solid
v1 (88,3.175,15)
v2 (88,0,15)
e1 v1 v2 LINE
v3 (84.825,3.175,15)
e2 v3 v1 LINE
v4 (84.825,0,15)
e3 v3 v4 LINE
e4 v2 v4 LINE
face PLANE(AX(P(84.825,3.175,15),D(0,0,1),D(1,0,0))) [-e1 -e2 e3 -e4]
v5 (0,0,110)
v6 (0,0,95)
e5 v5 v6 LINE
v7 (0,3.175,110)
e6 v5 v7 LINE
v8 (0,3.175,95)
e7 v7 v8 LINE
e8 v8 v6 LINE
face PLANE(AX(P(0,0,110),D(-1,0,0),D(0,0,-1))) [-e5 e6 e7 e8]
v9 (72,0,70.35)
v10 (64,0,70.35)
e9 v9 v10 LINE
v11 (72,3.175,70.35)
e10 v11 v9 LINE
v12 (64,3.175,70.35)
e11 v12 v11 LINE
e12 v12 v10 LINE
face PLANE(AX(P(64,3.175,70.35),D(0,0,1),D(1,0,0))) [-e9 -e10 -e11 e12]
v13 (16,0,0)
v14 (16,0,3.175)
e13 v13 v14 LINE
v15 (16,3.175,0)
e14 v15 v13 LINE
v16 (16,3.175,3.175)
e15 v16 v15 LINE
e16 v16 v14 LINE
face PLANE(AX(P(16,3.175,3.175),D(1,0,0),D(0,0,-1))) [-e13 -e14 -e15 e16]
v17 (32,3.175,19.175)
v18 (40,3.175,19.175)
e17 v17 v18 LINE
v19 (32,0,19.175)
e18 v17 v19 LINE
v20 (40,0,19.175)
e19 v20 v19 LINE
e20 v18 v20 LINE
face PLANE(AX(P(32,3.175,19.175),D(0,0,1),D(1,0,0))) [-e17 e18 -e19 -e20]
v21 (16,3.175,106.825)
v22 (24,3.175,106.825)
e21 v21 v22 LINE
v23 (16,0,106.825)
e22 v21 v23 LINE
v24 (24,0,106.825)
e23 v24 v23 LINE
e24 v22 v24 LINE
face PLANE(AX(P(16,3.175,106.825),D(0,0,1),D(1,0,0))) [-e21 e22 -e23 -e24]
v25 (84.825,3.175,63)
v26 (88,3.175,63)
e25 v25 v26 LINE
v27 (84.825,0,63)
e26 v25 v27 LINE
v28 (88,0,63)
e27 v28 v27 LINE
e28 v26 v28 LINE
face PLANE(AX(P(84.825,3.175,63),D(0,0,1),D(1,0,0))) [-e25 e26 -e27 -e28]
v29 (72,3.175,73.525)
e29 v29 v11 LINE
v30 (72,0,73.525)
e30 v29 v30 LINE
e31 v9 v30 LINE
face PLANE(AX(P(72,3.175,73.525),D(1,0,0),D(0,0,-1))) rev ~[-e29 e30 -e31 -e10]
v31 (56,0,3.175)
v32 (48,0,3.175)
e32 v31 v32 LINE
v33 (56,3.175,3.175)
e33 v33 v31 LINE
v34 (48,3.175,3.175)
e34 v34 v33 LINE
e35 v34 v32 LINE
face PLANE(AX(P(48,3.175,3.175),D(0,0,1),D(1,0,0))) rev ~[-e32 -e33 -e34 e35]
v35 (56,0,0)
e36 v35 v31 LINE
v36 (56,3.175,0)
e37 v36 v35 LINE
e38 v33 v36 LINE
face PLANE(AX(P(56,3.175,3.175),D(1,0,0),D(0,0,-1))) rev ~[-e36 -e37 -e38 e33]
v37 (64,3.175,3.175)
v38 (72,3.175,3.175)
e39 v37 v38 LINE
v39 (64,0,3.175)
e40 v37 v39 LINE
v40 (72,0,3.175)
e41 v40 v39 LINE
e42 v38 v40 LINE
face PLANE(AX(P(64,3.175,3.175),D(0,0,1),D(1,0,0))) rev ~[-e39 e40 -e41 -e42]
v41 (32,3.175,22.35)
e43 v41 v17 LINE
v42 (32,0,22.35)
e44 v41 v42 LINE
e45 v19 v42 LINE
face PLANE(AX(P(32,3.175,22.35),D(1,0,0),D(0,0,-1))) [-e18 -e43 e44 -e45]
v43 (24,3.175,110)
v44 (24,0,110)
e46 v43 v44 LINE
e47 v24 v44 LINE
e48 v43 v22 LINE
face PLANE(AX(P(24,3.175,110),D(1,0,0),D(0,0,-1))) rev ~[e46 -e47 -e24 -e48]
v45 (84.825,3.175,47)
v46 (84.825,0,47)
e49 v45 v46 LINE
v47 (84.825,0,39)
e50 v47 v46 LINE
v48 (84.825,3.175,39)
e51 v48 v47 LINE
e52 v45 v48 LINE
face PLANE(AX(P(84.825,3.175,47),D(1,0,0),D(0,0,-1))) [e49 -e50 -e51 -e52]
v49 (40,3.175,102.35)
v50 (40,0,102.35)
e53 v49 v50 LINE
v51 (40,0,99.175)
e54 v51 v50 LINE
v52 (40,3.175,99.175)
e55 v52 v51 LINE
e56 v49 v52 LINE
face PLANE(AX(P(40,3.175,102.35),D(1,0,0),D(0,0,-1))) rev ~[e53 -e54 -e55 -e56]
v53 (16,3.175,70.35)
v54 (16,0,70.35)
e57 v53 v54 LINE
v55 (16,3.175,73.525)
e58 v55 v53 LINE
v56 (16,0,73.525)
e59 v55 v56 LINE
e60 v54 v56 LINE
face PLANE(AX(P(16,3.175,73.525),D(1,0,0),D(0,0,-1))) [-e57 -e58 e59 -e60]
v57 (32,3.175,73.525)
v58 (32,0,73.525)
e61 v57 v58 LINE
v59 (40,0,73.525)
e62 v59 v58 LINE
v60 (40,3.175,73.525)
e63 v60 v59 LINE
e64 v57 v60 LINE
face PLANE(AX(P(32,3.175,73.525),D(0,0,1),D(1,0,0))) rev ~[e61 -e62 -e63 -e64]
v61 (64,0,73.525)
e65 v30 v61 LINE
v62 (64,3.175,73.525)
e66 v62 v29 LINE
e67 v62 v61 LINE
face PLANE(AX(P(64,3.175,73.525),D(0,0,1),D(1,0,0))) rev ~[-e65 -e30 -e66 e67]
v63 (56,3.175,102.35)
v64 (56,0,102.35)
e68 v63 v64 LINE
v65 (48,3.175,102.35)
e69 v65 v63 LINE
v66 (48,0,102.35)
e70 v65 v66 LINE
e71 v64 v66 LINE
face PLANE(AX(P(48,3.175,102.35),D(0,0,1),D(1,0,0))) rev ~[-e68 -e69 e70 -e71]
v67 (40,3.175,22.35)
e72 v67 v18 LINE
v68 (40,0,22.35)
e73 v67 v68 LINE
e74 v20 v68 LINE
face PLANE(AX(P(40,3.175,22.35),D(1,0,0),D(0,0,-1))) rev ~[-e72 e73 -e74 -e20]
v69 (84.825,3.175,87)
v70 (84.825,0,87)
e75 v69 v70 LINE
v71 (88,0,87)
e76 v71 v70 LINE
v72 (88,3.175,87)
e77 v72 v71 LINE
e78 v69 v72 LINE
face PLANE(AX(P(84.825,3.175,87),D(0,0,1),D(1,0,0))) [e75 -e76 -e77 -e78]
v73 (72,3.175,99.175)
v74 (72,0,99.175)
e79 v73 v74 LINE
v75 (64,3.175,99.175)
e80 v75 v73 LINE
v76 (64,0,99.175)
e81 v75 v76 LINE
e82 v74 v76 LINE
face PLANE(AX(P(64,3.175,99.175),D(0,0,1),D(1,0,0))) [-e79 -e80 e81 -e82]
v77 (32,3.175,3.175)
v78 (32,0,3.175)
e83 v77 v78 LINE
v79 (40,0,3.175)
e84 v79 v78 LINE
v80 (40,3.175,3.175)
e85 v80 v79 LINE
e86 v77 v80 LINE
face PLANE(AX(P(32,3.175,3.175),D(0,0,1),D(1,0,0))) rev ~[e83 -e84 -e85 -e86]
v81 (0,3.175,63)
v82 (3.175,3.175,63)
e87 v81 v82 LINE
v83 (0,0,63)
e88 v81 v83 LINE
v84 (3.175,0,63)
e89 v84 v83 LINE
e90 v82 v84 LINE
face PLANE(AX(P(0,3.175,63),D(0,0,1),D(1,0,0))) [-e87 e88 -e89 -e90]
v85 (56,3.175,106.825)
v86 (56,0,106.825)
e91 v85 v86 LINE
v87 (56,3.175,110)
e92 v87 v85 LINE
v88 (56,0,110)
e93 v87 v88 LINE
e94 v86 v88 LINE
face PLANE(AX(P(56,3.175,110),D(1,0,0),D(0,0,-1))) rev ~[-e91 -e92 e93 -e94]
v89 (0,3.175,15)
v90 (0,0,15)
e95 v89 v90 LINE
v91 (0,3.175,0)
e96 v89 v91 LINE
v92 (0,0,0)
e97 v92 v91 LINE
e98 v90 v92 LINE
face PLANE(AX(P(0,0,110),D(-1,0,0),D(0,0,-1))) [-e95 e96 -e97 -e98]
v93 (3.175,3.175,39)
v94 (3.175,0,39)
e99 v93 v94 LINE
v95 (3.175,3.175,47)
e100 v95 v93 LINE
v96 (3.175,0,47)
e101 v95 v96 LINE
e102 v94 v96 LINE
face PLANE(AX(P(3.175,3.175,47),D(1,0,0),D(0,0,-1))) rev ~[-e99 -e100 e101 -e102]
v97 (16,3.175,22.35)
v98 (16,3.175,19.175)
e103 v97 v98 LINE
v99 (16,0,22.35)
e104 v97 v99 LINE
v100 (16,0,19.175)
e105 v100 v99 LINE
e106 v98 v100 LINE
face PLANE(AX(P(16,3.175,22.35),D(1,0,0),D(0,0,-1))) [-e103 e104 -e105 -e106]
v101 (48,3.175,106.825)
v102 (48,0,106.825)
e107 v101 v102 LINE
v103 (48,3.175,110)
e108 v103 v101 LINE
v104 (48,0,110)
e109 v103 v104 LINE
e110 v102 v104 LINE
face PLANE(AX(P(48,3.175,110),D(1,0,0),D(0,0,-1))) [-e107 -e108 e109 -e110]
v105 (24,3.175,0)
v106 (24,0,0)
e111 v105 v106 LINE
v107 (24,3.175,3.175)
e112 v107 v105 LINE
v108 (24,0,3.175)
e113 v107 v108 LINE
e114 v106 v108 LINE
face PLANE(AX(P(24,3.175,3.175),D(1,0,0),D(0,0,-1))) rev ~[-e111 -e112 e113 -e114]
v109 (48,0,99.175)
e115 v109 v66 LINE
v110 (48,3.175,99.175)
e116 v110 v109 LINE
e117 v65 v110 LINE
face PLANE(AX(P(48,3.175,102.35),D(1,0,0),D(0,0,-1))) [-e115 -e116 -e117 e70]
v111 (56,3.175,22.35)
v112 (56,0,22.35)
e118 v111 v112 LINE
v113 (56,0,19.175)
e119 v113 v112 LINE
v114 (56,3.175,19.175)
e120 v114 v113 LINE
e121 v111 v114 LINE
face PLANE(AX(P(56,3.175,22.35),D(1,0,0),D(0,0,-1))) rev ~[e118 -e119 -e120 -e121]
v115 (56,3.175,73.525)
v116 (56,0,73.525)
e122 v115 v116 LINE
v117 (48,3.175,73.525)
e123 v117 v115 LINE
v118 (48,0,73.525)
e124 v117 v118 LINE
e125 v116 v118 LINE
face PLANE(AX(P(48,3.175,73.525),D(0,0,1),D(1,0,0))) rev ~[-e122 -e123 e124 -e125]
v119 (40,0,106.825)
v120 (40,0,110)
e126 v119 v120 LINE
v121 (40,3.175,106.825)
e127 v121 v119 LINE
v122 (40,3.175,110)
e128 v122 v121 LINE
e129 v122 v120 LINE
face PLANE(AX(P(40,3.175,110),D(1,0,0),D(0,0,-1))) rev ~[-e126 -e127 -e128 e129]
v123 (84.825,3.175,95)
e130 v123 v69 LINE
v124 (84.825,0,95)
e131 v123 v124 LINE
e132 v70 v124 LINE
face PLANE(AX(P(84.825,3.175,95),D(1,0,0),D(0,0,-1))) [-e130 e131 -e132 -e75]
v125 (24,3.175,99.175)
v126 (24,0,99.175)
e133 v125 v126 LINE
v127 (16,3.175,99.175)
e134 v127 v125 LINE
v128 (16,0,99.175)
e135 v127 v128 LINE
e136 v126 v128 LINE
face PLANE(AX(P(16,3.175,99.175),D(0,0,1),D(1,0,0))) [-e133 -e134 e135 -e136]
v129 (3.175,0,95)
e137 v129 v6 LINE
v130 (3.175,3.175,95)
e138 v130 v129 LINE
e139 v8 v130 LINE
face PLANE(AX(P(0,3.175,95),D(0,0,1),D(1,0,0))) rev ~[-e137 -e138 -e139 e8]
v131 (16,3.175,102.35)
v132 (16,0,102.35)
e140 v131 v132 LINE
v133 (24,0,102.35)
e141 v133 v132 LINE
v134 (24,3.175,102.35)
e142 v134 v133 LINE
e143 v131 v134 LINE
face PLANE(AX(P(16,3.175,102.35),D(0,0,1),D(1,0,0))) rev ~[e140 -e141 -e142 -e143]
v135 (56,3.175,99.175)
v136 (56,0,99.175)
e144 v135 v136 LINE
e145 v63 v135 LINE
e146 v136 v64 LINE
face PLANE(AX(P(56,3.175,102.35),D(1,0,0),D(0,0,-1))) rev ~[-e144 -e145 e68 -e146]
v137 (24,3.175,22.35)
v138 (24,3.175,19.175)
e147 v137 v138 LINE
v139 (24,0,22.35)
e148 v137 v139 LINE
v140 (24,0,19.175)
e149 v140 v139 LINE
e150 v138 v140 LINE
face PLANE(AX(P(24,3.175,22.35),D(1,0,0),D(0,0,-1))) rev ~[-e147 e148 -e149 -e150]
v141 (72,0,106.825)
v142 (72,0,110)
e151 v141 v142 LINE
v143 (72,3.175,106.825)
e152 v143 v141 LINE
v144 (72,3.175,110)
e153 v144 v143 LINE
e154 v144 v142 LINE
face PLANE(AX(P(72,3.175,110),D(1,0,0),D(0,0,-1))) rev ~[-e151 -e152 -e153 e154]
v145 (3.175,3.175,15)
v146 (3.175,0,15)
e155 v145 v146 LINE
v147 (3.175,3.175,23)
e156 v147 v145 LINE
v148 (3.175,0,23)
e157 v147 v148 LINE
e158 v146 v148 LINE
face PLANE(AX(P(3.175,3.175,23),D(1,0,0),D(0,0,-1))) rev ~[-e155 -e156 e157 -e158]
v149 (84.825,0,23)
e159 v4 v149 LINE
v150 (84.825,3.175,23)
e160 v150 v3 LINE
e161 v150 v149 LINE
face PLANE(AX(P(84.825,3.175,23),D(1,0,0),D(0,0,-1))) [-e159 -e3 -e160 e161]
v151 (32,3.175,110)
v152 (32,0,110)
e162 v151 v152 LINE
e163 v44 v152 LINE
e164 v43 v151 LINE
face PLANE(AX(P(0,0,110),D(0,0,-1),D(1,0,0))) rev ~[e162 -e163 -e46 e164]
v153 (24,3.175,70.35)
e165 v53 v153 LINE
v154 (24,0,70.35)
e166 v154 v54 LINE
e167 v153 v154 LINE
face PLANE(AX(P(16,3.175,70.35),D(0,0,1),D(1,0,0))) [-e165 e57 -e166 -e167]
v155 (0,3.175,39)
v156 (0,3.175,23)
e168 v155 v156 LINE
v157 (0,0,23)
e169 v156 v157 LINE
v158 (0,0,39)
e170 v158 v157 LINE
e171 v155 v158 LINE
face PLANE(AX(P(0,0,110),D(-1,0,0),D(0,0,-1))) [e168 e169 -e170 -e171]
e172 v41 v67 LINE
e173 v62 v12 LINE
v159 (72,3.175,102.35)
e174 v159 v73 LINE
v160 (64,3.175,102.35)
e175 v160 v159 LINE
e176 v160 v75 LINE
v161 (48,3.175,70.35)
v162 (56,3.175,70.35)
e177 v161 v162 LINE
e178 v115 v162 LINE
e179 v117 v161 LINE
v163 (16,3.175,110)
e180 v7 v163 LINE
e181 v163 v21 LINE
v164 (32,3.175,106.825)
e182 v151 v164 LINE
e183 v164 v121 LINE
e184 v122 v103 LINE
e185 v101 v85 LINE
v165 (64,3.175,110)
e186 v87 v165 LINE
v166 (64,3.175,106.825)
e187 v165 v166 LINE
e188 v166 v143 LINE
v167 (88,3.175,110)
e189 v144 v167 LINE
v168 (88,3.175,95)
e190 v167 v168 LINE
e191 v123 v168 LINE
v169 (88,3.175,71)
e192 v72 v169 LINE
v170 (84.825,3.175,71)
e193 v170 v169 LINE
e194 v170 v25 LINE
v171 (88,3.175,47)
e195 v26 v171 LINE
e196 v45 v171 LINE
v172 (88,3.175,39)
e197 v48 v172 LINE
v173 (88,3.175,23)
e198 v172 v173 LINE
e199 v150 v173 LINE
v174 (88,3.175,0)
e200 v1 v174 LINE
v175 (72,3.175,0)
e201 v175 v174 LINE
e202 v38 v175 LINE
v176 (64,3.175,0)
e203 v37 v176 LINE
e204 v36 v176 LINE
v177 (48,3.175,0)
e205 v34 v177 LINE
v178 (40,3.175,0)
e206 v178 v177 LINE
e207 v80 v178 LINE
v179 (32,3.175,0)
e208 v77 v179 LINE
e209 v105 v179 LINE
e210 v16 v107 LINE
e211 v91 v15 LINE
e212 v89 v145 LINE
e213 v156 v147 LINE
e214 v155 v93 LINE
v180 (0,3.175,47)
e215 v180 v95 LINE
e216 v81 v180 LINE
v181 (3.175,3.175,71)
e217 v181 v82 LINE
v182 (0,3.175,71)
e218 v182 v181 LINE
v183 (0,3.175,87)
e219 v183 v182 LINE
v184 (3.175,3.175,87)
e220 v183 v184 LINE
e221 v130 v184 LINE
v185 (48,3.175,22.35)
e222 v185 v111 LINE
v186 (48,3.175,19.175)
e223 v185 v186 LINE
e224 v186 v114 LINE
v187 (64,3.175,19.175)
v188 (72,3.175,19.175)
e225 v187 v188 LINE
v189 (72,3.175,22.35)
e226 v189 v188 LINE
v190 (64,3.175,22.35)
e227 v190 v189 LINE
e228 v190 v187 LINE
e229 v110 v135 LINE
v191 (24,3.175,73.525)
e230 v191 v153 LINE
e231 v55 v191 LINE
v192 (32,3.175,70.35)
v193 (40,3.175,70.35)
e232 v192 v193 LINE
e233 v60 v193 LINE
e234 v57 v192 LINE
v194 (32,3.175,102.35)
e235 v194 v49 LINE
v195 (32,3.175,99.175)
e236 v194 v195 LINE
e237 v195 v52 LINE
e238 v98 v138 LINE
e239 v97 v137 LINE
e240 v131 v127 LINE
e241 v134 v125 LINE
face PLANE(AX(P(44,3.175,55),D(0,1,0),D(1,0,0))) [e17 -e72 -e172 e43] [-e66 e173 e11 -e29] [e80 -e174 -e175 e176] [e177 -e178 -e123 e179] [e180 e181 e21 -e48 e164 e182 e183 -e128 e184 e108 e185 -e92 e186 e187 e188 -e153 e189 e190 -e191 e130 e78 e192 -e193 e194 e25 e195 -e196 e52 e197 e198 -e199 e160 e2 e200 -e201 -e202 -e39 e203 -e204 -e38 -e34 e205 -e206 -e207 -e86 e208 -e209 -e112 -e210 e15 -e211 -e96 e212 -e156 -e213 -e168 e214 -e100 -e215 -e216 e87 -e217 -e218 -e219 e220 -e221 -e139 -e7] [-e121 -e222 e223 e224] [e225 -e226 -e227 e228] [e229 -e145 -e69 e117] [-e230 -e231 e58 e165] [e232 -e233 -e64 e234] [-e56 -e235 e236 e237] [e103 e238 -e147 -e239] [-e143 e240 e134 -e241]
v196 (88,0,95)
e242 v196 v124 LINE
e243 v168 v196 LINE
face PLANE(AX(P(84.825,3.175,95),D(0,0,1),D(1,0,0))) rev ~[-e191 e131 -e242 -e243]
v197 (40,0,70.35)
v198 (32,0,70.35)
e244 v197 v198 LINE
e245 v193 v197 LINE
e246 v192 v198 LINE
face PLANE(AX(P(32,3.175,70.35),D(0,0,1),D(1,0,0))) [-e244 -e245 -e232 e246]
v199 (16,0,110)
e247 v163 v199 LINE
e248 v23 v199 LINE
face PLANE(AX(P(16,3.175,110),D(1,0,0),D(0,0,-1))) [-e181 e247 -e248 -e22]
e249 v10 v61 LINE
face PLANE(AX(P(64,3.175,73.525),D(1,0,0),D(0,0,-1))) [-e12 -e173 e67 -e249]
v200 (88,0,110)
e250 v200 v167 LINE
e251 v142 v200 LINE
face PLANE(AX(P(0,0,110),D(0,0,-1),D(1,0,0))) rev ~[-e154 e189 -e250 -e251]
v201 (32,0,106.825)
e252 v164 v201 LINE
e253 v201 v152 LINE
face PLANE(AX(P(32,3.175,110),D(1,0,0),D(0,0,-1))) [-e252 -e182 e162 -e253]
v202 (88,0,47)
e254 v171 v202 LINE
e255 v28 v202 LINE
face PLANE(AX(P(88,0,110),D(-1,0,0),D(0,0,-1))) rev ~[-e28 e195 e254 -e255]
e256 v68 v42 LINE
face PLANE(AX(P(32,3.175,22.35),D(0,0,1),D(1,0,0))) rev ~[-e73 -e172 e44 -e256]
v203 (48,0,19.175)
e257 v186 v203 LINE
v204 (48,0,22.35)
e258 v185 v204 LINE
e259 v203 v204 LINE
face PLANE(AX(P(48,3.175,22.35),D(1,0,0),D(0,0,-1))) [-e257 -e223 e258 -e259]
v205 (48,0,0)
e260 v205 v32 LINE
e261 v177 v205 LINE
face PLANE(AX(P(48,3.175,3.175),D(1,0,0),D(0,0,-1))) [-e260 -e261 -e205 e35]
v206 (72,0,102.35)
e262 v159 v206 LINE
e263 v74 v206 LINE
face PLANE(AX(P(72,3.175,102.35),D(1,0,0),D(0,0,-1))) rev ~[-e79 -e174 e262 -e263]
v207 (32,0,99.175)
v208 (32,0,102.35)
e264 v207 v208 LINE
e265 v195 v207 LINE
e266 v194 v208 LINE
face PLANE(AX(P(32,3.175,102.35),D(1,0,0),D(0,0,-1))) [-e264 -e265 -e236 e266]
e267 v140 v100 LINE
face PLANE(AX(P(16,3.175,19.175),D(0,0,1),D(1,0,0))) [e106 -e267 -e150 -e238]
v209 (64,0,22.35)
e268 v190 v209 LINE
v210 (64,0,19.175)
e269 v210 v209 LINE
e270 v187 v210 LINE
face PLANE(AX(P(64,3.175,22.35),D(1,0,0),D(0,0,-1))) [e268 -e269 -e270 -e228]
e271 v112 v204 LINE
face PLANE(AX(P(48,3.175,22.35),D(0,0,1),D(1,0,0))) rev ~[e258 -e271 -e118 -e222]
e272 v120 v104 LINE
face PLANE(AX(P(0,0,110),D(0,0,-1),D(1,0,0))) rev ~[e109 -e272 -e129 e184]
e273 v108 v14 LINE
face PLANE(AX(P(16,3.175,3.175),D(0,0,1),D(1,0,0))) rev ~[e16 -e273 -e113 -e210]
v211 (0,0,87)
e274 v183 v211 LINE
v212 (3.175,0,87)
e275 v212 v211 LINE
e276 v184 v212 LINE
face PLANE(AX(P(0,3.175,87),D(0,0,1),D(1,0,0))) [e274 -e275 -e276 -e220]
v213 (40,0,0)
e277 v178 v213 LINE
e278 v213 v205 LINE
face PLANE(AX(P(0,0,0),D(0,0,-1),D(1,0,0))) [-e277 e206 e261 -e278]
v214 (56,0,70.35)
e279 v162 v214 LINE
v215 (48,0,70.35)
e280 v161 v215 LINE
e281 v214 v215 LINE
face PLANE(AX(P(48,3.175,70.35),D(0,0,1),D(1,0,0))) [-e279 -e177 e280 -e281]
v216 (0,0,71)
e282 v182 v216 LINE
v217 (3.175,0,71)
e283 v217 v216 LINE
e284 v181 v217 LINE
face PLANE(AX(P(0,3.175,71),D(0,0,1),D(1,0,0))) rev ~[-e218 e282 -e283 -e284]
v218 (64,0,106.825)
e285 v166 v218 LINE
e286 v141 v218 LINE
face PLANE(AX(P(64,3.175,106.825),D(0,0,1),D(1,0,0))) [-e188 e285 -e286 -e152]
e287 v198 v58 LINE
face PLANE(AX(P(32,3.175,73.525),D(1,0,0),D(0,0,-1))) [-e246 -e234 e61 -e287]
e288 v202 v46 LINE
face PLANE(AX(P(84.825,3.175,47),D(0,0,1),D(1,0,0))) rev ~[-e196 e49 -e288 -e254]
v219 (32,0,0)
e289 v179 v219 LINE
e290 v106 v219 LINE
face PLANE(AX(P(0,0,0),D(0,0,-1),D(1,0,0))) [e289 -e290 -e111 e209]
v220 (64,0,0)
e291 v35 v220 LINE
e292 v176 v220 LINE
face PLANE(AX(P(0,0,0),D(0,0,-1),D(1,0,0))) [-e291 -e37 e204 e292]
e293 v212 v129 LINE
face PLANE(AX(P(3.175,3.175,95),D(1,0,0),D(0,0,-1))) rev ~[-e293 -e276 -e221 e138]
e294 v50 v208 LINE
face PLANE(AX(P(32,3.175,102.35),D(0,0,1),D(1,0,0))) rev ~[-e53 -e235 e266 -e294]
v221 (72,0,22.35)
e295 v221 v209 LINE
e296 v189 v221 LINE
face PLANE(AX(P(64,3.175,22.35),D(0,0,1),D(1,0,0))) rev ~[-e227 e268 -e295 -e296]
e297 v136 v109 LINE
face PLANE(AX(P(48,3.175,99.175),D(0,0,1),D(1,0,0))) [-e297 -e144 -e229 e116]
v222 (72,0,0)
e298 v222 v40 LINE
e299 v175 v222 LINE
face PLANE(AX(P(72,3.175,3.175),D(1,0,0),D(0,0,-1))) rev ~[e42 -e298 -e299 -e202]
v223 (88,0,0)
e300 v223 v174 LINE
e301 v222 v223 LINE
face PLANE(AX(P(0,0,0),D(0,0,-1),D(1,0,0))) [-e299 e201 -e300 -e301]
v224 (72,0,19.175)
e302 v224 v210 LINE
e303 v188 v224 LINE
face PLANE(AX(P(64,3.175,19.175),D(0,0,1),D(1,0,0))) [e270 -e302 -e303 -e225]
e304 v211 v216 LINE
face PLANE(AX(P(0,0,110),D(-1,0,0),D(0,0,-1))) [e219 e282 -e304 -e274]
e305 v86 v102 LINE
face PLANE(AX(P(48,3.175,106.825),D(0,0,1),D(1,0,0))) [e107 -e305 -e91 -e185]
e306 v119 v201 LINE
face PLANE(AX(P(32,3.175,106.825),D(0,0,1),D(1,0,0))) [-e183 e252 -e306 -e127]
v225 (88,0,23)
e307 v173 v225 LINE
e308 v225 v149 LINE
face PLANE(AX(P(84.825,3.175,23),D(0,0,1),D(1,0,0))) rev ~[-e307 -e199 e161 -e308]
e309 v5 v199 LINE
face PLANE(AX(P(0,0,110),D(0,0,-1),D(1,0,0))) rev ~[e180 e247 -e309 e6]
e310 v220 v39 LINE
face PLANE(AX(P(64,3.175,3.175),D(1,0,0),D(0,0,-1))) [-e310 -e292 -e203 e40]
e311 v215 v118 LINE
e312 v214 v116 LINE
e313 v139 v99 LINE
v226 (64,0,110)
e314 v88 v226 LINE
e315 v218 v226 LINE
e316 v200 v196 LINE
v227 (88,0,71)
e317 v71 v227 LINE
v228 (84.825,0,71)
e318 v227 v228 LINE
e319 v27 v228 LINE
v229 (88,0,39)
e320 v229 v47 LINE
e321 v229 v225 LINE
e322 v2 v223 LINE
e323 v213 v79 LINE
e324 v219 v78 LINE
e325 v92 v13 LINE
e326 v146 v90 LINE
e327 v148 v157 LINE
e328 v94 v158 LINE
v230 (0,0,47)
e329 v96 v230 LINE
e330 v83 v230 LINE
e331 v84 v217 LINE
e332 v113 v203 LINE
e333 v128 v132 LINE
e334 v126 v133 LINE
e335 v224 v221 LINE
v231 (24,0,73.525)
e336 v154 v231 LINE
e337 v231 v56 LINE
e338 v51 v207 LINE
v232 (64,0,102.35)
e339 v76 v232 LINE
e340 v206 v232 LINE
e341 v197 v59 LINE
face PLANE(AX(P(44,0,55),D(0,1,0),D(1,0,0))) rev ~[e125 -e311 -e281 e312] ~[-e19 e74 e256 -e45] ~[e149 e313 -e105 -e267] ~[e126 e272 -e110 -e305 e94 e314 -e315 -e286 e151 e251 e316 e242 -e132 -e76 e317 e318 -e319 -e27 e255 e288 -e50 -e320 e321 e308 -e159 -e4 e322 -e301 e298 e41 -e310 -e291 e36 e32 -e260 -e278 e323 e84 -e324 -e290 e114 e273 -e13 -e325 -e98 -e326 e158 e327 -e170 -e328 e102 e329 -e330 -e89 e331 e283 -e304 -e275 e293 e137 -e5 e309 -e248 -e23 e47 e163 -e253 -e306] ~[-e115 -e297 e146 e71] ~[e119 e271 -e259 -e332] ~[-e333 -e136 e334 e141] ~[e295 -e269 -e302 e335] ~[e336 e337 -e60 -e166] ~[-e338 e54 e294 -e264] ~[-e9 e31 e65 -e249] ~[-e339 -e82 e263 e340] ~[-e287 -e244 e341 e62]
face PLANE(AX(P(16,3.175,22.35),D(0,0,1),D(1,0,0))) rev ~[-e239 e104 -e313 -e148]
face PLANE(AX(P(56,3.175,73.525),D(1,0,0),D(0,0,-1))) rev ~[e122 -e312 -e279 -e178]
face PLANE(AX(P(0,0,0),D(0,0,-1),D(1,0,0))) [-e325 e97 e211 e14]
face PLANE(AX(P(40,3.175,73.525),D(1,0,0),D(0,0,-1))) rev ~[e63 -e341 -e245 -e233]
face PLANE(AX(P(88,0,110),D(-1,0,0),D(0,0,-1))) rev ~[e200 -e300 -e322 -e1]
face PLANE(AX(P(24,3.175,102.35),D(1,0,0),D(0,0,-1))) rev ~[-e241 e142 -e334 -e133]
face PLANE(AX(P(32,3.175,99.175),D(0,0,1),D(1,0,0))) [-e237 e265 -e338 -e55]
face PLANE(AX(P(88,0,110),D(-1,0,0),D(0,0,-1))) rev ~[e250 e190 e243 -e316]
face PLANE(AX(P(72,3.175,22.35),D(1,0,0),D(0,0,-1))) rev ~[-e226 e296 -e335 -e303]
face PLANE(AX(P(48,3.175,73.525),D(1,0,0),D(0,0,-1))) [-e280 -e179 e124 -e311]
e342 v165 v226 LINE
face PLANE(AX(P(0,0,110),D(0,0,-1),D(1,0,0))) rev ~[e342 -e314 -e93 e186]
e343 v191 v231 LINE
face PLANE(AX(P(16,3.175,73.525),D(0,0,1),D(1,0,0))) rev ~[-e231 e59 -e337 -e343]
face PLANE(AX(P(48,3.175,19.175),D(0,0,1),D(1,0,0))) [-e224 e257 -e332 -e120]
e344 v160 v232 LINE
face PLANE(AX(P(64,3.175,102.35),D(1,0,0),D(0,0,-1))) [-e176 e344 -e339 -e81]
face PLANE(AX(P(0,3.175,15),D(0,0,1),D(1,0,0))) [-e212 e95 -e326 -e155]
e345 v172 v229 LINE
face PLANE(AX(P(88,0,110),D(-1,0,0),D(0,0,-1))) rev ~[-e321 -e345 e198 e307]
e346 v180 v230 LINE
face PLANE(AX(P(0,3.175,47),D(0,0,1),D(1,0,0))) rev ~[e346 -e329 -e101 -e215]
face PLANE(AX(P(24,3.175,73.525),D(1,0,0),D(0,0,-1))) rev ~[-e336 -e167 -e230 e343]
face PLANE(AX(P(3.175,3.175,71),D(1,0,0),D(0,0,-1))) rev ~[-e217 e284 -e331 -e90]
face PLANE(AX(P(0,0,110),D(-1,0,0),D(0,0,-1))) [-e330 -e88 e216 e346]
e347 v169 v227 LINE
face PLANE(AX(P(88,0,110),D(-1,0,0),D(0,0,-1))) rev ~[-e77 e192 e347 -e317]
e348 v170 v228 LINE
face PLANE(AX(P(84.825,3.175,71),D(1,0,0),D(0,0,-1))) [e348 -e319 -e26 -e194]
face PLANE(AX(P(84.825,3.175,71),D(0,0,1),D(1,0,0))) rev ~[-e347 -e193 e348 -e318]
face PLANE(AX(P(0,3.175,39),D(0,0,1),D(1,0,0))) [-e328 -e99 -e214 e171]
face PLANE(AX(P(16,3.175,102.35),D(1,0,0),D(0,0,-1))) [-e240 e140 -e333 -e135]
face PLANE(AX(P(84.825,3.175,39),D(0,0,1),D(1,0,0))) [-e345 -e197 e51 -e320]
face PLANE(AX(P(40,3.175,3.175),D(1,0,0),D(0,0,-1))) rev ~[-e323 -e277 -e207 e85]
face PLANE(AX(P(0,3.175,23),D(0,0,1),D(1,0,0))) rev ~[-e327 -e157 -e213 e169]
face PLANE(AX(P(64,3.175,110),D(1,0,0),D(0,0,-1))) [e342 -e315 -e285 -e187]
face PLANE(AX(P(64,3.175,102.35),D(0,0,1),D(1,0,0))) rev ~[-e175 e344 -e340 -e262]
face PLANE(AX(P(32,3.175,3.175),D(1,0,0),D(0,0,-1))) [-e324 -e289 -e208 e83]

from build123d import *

# Parameters (mm, degrees)
SKETCH1_W           = 88
SKETCH1_H           = 110
BOSS_EXTRUDE1_DEPTH = 3.175
CUT_EXTRUDE1_REACH  = 5.175
SKETCH2_W           = 8
SKETCH2_H           = 3.175
SKETCH2_W_2         = 3.175
SKETCH2_H_2         = 8
CUT_EXTRUDE2_REACH  = 5.175
SKETCH3_W           = 8
SKETCH3_H           = 3.175
CUT_EXTRUDE3_REACH  = 5.175
SKETCH4_W           = 8
SKETCH4_H           = 3.175


with BuildPart() as part:
    # Sketch1 → Boss-Extrude1 (new body)
    with BuildSketch(Plane(origin=(0, 0, 0), x_dir=(1, 0, 0), z_dir=(0, 1, 0))):
        with Locations((44, -55)):
            Rectangle(SKETCH1_W, SKETCH1_H)
    extrude(amount=BOSS_EXTRUDE1_DEPTH)

    # Sketch2 → Cut-Extrude1 (cut, up to next)
    with BuildSketch(Plane(origin=(0, 3.175, 0), x_dir=(1, 0, 0), z_dir=(0, 1, 0)), mode=Mode.PRIVATE) as cut_extrude1_sk1:
        with Locations((68, -1.5875)):
            Rectangle(SKETCH2_W, SKETCH2_H)
    cut_extrude1_tool1 = extrude(cut_extrude1_sk1.sketch, amount=-CUT_EXTRUDE1_REACH, mode=Mode.PRIVATE) & part.part
    add(cut_extrude1_tool1.solids().sort_by_distance((68, 3.175, 1.5875))[0], mode=Mode.SUBTRACT)
    # Sketch2 → Cut-Extrude1 (cut, up to next)
    with BuildSketch(Plane(origin=(0, 3.175, 0), x_dir=(1, 0, 0), z_dir=(0, 1, 0)), mode=Mode.PRIVATE) as cut_extrude1_sk2:
        with Locations((52, -1.5875)):
            Rectangle(SKETCH2_W, SKETCH2_H)
    cut_extrude1_tool2 = extrude(cut_extrude1_sk2.sketch, amount=-CUT_EXTRUDE1_REACH, mode=Mode.PRIVATE) & part.part
    add(cut_extrude1_tool2.solids().sort_by_distance((52, 3.175, 1.5875))[0], mode=Mode.SUBTRACT)
    # Sketch2 → Cut-Extrude1 (cut, up to next)
    with BuildSketch(Plane(origin=(0, 3.175, 0), x_dir=(1, 0, 0), z_dir=(0, 1, 0)), mode=Mode.PRIVATE) as cut_extrude1_sk3:
        with Locations((20, -1.5875)):
            Rectangle(SKETCH2_W, SKETCH2_H)
    cut_extrude1_tool3 = extrude(cut_extrude1_sk3.sketch, amount=-CUT_EXTRUDE1_REACH, mode=Mode.PRIVATE) & part.part
    add(cut_extrude1_tool3.solids().sort_by_distance((20, 3.175, 1.5875))[0], mode=Mode.SUBTRACT)
    # Sketch2 → Cut-Extrude1 (cut, up to next)
    with BuildSketch(Plane(origin=(0, 3.175, 0), x_dir=(1, 0, 0), z_dir=(0, 1, 0)), mode=Mode.PRIVATE) as cut_extrude1_sk4:
        with Locations((36, -1.5875)):
            Rectangle(SKETCH2_W, SKETCH2_H)
    cut_extrude1_tool4 = extrude(cut_extrude1_sk4.sketch, amount=-CUT_EXTRUDE1_REACH, mode=Mode.PRIVATE) & part.part
    add(cut_extrude1_tool4.solids().sort_by_distance((36, 3.175, 1.5875))[0], mode=Mode.SUBTRACT)
    # Sketch2 → Cut-Extrude1 (cut, up to next)
    with BuildSketch(Plane(origin=(0, 3.175, 0), x_dir=(1, 0, 0), z_dir=(0, 1, 0)), mode=Mode.PRIVATE) as cut_extrude1_sk5:
        with Locations((1.5875, -19)):
            Rectangle(SKETCH2_W_2, SKETCH2_H_2)
    cut_extrude1_tool5 = extrude(cut_extrude1_sk5.sketch, amount=-CUT_EXTRUDE1_REACH, mode=Mode.PRIVATE) & part.part
    add(cut_extrude1_tool5.solids().sort_by_distance((1.5875, 3.175, 19))[0], mode=Mode.SUBTRACT)
    # Sketch2 → Cut-Extrude1 (cut, up to next)
    with BuildSketch(Plane(origin=(0, 3.175, 0), x_dir=(1, 0, 0), z_dir=(0, 1, 0)), mode=Mode.PRIVATE) as cut_extrude1_sk6:
        with Locations((1.5875, -43)):
            Rectangle(SKETCH2_W_2, SKETCH2_H_2)
    cut_extrude1_tool6 = extrude(cut_extrude1_sk6.sketch, amount=-CUT_EXTRUDE1_REACH, mode=Mode.PRIVATE) & part.part
    add(cut_extrude1_tool6.solids().sort_by_distance((1.5875, 3.175, 43))[0], mode=Mode.SUBTRACT)
    # Sketch2 → Cut-Extrude1 (cut, up to next)
    with BuildSketch(Plane(origin=(0, 3.175, 0), x_dir=(1, 0, 0), z_dir=(0, 1, 0)), mode=Mode.PRIVATE) as cut_extrude1_sk7:
        with Locations((1.5875, -91)):
            Rectangle(SKETCH2_W_2, SKETCH2_H_2)
    cut_extrude1_tool7 = extrude(cut_extrude1_sk7.sketch, amount=-CUT_EXTRUDE1_REACH, mode=Mode.PRIVATE) & part.part
    add(cut_extrude1_tool7.solids().sort_by_distance((1.5875, 3.175, 91))[0], mode=Mode.SUBTRACT)
    # Sketch2 → Cut-Extrude1 (cut, up to next)
    with BuildSketch(Plane(origin=(0, 3.175, 0), x_dir=(1, 0, 0), z_dir=(0, 1, 0)), mode=Mode.PRIVATE) as cut_extrude1_sk8:
        with Locations((1.5875, -67)):
            Rectangle(SKETCH2_W_2, SKETCH2_H_2)
    cut_extrude1_tool8 = extrude(cut_extrude1_sk8.sketch, amount=-CUT_EXTRUDE1_REACH, mode=Mode.PRIVATE) & part.part
    add(cut_extrude1_tool8.solids().sort_by_distance((1.5875, 3.175, 67))[0], mode=Mode.SUBTRACT)
    # Sketch2 → Cut-Extrude1 (cut, up to next)
    with BuildSketch(Plane(origin=(0, 3.175, 0), x_dir=(1, 0, 0), z_dir=(0, 1, 0)), mode=Mode.PRIVATE) as cut_extrude1_sk9:
        with Locations((20, -108.4125)):
            Rectangle(SKETCH2_W, SKETCH2_H)
    cut_extrude1_tool9 = extrude(cut_extrude1_sk9.sketch, amount=-CUT_EXTRUDE1_REACH, mode=Mode.PRIVATE) & part.part
    add(cut_extrude1_tool9.solids().sort_by_distance((20, 3.175, 108.4125))[0], mode=Mode.SUBTRACT)
    # Sketch2 → Cut-Extrude1 (cut, up to next)
    with BuildSketch(Plane(origin=(0, 3.175, 0), x_dir=(1, 0, 0), z_dir=(0, 1, 0)), mode=Mode.PRIVATE) as cut_extrude1_sk10:
        with Locations((36, -108.4125)):
            Rectangle(SKETCH2_W, SKETCH2_H)
    cut_extrude1_tool10 = extrude(cut_extrude1_sk10.sketch, amount=-CUT_EXTRUDE1_REACH, mode=Mode.PRIVATE) & part.part
    add(cut_extrude1_tool10.solids().sort_by_distance((36, 3.175, 108.4125))[0], mode=Mode.SUBTRACT)
    # Sketch2 → Cut-Extrude1 (cut, up to next)
    with BuildSketch(Plane(origin=(0, 3.175, 0), x_dir=(1, 0, 0), z_dir=(0, 1, 0)), mode=Mode.PRIVATE) as cut_extrude1_sk11:
        with Locations((68, -108.4125)):
            Rectangle(SKETCH2_W, SKETCH2_H)
    cut_extrude1_tool11 = extrude(cut_extrude1_sk11.sketch, amount=-CUT_EXTRUDE1_REACH, mode=Mode.PRIVATE) & part.part
    add(cut_extrude1_tool11.solids().sort_by_distance((68, 3.175, 108.4125))[0], mode=Mode.SUBTRACT)
    # Sketch2 → Cut-Extrude1 (cut, up to next)
    with BuildSketch(Plane(origin=(0, 3.175, 0), x_dir=(1, 0, 0), z_dir=(0, 1, 0)), mode=Mode.PRIVATE) as cut_extrude1_sk12:
        with Locations((52, -108.4125)):
            Rectangle(SKETCH2_W, SKETCH2_H)
    cut_extrude1_tool12 = extrude(cut_extrude1_sk12.sketch, amount=-CUT_EXTRUDE1_REACH, mode=Mode.PRIVATE) & part.part
    add(cut_extrude1_tool12.solids().sort_by_distance((52, 3.175, 108.4125))[0], mode=Mode.SUBTRACT)
    # Sketch2 → Cut-Extrude1 (cut, up to next)
    with BuildSketch(Plane(origin=(0, 3.175, 0), x_dir=(1, 0, 0), z_dir=(0, 1, 0)), mode=Mode.PRIVATE) as cut_extrude1_sk13:
        with Locations((86.4125, -91)):
            Rectangle(SKETCH2_W_2, SKETCH2_H_2)
    cut_extrude1_tool13 = extrude(cut_extrude1_sk13.sketch, amount=-CUT_EXTRUDE1_REACH, mode=Mode.PRIVATE) & part.part
    add(cut_extrude1_tool13.solids().sort_by_distance((86.4125, 3.175, 91))[0], mode=Mode.SUBTRACT)
    # Sketch2 → Cut-Extrude1 (cut, up to next)
    with BuildSketch(Plane(origin=(0, 3.175, 0), x_dir=(1, 0, 0), z_dir=(0, 1, 0)), mode=Mode.PRIVATE) as cut_extrude1_sk14:
        with Locations((86.4125, -67)):
            Rectangle(SKETCH2_W_2, SKETCH2_H_2)
    cut_extrude1_tool14 = extrude(cut_extrude1_sk14.sketch, amount=-CUT_EXTRUDE1_REACH, mode=Mode.PRIVATE) & part.part
    add(cut_extrude1_tool14.solids().sort_by_distance((86.4125, 3.175, 67))[0], mode=Mode.SUBTRACT)
    # Sketch2 → Cut-Extrude1 (cut, up to next)
    with BuildSketch(Plane(origin=(0, 3.175, 0), x_dir=(1, 0, 0), z_dir=(0, 1, 0)), mode=Mode.PRIVATE) as cut_extrude1_sk15:
        with Locations((86.4125, -19)):
            Rectangle(SKETCH2_W_2, SKETCH2_H_2)
    cut_extrude1_tool15 = extrude(cut_extrude1_sk15.sketch, amount=-CUT_EXTRUDE1_REACH, mode=Mode.PRIVATE) & part.part
    add(cut_extrude1_tool15.solids().sort_by_distance((86.4125, 3.175, 19))[0], mode=Mode.SUBTRACT)
    # Sketch2 → Cut-Extrude1 (cut, up to next)
    with BuildSketch(Plane(origin=(0, 3.175, 0), x_dir=(1, 0, 0), z_dir=(0, 1, 0)), mode=Mode.PRIVATE) as cut_extrude1_sk16:
        with Locations((86.4125, -43)):
            Rectangle(SKETCH2_W_2, SKETCH2_H_2)
    cut_extrude1_tool16 = extrude(cut_extrude1_sk16.sketch, amount=-CUT_EXTRUDE1_REACH, mode=Mode.PRIVATE) & part.part
    add(cut_extrude1_tool16.solids().sort_by_distance((86.4125, 3.175, 43))[0], mode=Mode.SUBTRACT)

    # Sketch3 → Cut-Extrude2 (cut, up to next)
    with BuildSketch(Plane(origin=(0, 3.175, 0), x_dir=(1, 0, 0), z_dir=(0, 1, 0)), mode=Mode.PRIVATE) as cut_extrude2_sk1:
        with Locations((68, -20.7625)):
            Rectangle(SKETCH3_W, SKETCH3_H)
    cut_extrude2_tool1 = extrude(cut_extrude2_sk1.sketch, amount=-CUT_EXTRUDE2_REACH, mode=Mode.PRIVATE) & part.part
    add(cut_extrude2_tool1.solids().sort_by_distance((68, 3.175, 20.7625))[0], mode=Mode.SUBTRACT)
    # Sketch3 → Cut-Extrude2 (cut, up to next)
    with BuildSketch(Plane(origin=(0, 3.175, 0), x_dir=(1, 0, 0), z_dir=(0, 1, 0)), mode=Mode.PRIVATE) as cut_extrude2_sk2:
        with Locations((52, -20.7625)):
            Rectangle(SKETCH3_W, SKETCH3_H)
    cut_extrude2_tool2 = extrude(cut_extrude2_sk2.sketch, amount=-CUT_EXTRUDE2_REACH, mode=Mode.PRIVATE) & part.part
    add(cut_extrude2_tool2.solids().sort_by_distance((52, 3.175, 20.7625))[0], mode=Mode.SUBTRACT)
    # Sketch3 → Cut-Extrude2 (cut, up to next)
    with BuildSketch(Plane(origin=(0, 3.175, 0), x_dir=(1, 0, 0), z_dir=(0, 1, 0)), mode=Mode.PRIVATE) as cut_extrude2_sk3:
        with Locations((20, -20.7625)):
            Rectangle(SKETCH3_W, SKETCH3_H)
    cut_extrude2_tool3 = extrude(cut_extrude2_sk3.sketch, amount=-CUT_EXTRUDE2_REACH, mode=Mode.PRIVATE) & part.part
    add(cut_extrude2_tool3.solids().sort_by_distance((20, 3.175, 20.7625))[0], mode=Mode.SUBTRACT)
    # Sketch3 → Cut-Extrude2 (cut, up to next)
    with BuildSketch(Plane(origin=(0, 3.175, 0), x_dir=(1, 0, 0), z_dir=(0, 1, 0)), mode=Mode.PRIVATE) as cut_extrude2_sk4:
        with Locations((36, -20.7625)):
            Rectangle(SKETCH3_W, SKETCH3_H)
    cut_extrude2_tool4 = extrude(cut_extrude2_sk4.sketch, amount=-CUT_EXTRUDE2_REACH, mode=Mode.PRIVATE) & part.part
    add(cut_extrude2_tool4.solids().sort_by_distance((36, 3.175, 20.7625))[0], mode=Mode.SUBTRACT)

    # Sketch4 → Cut-Extrude3 (cut, up to next)
    with BuildSketch(Plane(origin=(0, 3.175, 0), x_dir=(1, 0, 0), z_dir=(0, 1, 0)), mode=Mode.PRIVATE) as cut_extrude3_sk1:
        with Locations((68, -71.9375)):
            Rectangle(SKETCH4_W, SKETCH4_H)
    cut_extrude3_tool1 = extrude(cut_extrude3_sk1.sketch, amount=-CUT_EXTRUDE3_REACH, mode=Mode.PRIVATE) & part.part
    add(cut_extrude3_tool1.solids().sort_by_distance((68, 3.175, 71.9375))[0], mode=Mode.SUBTRACT)
    # Sketch4 → Cut-Extrude3 (cut, up to next)
    with BuildSketch(Plane(origin=(0, 3.175, 0), x_dir=(1, 0, 0), z_dir=(0, 1, 0)), mode=Mode.PRIVATE) as cut_extrude3_sk2:
        with Locations((52, -71.9375)):
            Rectangle(SKETCH4_W, SKETCH4_H)
    cut_extrude3_tool2 = extrude(cut_extrude3_sk2.sketch, amount=-CUT_EXTRUDE3_REACH, mode=Mode.PRIVATE) & part.part
    add(cut_extrude3_tool2.solids().sort_by_distance((52, 3.175, 71.9375))[0], mode=Mode.SUBTRACT)
    # Sketch4 → Cut-Extrude3 (cut, up to next)
    with BuildSketch(Plane(origin=(0, 3.175, 0), x_dir=(1, 0, 0), z_dir=(0, 1, 0)), mode=Mode.PRIVATE) as cut_extrude3_sk3:
        with Locations((20, -71.9375)):
            Rectangle(SKETCH4_W, SKETCH4_H)
    cut_extrude3_tool3 = extrude(cut_extrude3_sk3.sketch, amount=-CUT_EXTRUDE3_REACH, mode=Mode.PRIVATE) & part.part
    add(cut_extrude3_tool3.solids().sort_by_distance((20, 3.175, 71.9375))[0], mode=Mode.SUBTRACT)
    # Sketch4 → Cut-Extrude3 (cut, up to next)
    with BuildSketch(Plane(origin=(0, 3.175, 0), x_dir=(1, 0, 0), z_dir=(0, 1, 0)), mode=Mode.PRIVATE) as cut_extrude3_sk4:
        with Locations((36, -71.9375)):
            Rectangle(SKETCH4_W, SKETCH4_H)
    cut_extrude3_tool4 = extrude(cut_extrude3_sk4.sketch, amount=-CUT_EXTRUDE3_REACH, mode=Mode.PRIVATE) & part.part
    add(cut_extrude3_tool4.solids().sort_by_distance((36, 3.175, 71.9375))[0], mode=Mode.SUBTRACT)
    # Sketch4 → Cut-Extrude3 (cut, up to next)
    with BuildSketch(Plane(origin=(0, 3.175, 0), x_dir=(1, 0, 0), z_dir=(0, 1, 0)), mode=Mode.PRIVATE) as cut_extrude3_sk5:
        with Locations((68, -100.7625)):
            Rectangle(SKETCH4_W, SKETCH4_H)
    cut_extrude3_tool5 = extrude(cut_extrude3_sk5.sketch, amount=-CUT_EXTRUDE3_REACH, mode=Mode.PRIVATE) & part.part
    add(cut_extrude3_tool5.solids().sort_by_distance((68, 3.175, 100.7625))[0], mode=Mode.SUBTRACT)
    # Sketch4 → Cut-Extrude3 (cut, up to next)
    with BuildSketch(Plane(origin=(0, 3.175, 0), x_dir=(1, 0, 0), z_dir=(0, 1, 0)), mode=Mode.PRIVATE) as cut_extrude3_sk6:
        with Locations((52, -100.7625)):
            Rectangle(SKETCH4_W, SKETCH4_H)
    cut_extrude3_tool6 = extrude(cut_extrude3_sk6.sketch, amount=-CUT_EXTRUDE3_REACH, mode=Mode.PRIVATE) & part.part
    add(cut_extrude3_tool6.solids().sort_by_distance((52, 3.175, 100.7625))[0], mode=Mode.SUBTRACT)
    # Sketch4 → Cut-Extrude3 (cut, up to next)
    with BuildSketch(Plane(origin=(0, 3.175, 0), x_dir=(1, 0, 0), z_dir=(0, 1, 0)), mode=Mode.PRIVATE) as cut_extrude3_sk7:
        with Locations((20, -100.7625)):
            Rectangle(SKETCH4_W, SKETCH4_H)
    cut_extrude3_tool7 = extrude(cut_extrude3_sk7.sketch, amount=-CUT_EXTRUDE3_REACH, mode=Mode.PRIVATE) & part.part
    add(cut_extrude3_tool7.solids().sort_by_distance((20, 3.175, 100.7625))[0], mode=Mode.SUBTRACT)
    # Sketch4 → Cut-Extrude3 (cut, up to next)
    with BuildSketch(Plane(origin=(0, 3.175, 0), x_dir=(1, 0, 0), z_dir=(0, 1, 0)), mode=Mode.PRIVATE) as cut_extrude3_sk8:
        with Locations((36, -100.7625)):
            Rectangle(SKETCH4_W, SKETCH4_H)
    cut_extrude3_tool8 = extrude(cut_extrude3_sk8.sketch, amount=-CUT_EXTRUDE3_REACH, mode=Mode.PRIVATE) & part.part
    add(cut_extrude3_tool8.solids().sort_by_distance((36, 3.175, 100.7625))[0], mode=Mode.SUBTRACT)


solid = part.part
